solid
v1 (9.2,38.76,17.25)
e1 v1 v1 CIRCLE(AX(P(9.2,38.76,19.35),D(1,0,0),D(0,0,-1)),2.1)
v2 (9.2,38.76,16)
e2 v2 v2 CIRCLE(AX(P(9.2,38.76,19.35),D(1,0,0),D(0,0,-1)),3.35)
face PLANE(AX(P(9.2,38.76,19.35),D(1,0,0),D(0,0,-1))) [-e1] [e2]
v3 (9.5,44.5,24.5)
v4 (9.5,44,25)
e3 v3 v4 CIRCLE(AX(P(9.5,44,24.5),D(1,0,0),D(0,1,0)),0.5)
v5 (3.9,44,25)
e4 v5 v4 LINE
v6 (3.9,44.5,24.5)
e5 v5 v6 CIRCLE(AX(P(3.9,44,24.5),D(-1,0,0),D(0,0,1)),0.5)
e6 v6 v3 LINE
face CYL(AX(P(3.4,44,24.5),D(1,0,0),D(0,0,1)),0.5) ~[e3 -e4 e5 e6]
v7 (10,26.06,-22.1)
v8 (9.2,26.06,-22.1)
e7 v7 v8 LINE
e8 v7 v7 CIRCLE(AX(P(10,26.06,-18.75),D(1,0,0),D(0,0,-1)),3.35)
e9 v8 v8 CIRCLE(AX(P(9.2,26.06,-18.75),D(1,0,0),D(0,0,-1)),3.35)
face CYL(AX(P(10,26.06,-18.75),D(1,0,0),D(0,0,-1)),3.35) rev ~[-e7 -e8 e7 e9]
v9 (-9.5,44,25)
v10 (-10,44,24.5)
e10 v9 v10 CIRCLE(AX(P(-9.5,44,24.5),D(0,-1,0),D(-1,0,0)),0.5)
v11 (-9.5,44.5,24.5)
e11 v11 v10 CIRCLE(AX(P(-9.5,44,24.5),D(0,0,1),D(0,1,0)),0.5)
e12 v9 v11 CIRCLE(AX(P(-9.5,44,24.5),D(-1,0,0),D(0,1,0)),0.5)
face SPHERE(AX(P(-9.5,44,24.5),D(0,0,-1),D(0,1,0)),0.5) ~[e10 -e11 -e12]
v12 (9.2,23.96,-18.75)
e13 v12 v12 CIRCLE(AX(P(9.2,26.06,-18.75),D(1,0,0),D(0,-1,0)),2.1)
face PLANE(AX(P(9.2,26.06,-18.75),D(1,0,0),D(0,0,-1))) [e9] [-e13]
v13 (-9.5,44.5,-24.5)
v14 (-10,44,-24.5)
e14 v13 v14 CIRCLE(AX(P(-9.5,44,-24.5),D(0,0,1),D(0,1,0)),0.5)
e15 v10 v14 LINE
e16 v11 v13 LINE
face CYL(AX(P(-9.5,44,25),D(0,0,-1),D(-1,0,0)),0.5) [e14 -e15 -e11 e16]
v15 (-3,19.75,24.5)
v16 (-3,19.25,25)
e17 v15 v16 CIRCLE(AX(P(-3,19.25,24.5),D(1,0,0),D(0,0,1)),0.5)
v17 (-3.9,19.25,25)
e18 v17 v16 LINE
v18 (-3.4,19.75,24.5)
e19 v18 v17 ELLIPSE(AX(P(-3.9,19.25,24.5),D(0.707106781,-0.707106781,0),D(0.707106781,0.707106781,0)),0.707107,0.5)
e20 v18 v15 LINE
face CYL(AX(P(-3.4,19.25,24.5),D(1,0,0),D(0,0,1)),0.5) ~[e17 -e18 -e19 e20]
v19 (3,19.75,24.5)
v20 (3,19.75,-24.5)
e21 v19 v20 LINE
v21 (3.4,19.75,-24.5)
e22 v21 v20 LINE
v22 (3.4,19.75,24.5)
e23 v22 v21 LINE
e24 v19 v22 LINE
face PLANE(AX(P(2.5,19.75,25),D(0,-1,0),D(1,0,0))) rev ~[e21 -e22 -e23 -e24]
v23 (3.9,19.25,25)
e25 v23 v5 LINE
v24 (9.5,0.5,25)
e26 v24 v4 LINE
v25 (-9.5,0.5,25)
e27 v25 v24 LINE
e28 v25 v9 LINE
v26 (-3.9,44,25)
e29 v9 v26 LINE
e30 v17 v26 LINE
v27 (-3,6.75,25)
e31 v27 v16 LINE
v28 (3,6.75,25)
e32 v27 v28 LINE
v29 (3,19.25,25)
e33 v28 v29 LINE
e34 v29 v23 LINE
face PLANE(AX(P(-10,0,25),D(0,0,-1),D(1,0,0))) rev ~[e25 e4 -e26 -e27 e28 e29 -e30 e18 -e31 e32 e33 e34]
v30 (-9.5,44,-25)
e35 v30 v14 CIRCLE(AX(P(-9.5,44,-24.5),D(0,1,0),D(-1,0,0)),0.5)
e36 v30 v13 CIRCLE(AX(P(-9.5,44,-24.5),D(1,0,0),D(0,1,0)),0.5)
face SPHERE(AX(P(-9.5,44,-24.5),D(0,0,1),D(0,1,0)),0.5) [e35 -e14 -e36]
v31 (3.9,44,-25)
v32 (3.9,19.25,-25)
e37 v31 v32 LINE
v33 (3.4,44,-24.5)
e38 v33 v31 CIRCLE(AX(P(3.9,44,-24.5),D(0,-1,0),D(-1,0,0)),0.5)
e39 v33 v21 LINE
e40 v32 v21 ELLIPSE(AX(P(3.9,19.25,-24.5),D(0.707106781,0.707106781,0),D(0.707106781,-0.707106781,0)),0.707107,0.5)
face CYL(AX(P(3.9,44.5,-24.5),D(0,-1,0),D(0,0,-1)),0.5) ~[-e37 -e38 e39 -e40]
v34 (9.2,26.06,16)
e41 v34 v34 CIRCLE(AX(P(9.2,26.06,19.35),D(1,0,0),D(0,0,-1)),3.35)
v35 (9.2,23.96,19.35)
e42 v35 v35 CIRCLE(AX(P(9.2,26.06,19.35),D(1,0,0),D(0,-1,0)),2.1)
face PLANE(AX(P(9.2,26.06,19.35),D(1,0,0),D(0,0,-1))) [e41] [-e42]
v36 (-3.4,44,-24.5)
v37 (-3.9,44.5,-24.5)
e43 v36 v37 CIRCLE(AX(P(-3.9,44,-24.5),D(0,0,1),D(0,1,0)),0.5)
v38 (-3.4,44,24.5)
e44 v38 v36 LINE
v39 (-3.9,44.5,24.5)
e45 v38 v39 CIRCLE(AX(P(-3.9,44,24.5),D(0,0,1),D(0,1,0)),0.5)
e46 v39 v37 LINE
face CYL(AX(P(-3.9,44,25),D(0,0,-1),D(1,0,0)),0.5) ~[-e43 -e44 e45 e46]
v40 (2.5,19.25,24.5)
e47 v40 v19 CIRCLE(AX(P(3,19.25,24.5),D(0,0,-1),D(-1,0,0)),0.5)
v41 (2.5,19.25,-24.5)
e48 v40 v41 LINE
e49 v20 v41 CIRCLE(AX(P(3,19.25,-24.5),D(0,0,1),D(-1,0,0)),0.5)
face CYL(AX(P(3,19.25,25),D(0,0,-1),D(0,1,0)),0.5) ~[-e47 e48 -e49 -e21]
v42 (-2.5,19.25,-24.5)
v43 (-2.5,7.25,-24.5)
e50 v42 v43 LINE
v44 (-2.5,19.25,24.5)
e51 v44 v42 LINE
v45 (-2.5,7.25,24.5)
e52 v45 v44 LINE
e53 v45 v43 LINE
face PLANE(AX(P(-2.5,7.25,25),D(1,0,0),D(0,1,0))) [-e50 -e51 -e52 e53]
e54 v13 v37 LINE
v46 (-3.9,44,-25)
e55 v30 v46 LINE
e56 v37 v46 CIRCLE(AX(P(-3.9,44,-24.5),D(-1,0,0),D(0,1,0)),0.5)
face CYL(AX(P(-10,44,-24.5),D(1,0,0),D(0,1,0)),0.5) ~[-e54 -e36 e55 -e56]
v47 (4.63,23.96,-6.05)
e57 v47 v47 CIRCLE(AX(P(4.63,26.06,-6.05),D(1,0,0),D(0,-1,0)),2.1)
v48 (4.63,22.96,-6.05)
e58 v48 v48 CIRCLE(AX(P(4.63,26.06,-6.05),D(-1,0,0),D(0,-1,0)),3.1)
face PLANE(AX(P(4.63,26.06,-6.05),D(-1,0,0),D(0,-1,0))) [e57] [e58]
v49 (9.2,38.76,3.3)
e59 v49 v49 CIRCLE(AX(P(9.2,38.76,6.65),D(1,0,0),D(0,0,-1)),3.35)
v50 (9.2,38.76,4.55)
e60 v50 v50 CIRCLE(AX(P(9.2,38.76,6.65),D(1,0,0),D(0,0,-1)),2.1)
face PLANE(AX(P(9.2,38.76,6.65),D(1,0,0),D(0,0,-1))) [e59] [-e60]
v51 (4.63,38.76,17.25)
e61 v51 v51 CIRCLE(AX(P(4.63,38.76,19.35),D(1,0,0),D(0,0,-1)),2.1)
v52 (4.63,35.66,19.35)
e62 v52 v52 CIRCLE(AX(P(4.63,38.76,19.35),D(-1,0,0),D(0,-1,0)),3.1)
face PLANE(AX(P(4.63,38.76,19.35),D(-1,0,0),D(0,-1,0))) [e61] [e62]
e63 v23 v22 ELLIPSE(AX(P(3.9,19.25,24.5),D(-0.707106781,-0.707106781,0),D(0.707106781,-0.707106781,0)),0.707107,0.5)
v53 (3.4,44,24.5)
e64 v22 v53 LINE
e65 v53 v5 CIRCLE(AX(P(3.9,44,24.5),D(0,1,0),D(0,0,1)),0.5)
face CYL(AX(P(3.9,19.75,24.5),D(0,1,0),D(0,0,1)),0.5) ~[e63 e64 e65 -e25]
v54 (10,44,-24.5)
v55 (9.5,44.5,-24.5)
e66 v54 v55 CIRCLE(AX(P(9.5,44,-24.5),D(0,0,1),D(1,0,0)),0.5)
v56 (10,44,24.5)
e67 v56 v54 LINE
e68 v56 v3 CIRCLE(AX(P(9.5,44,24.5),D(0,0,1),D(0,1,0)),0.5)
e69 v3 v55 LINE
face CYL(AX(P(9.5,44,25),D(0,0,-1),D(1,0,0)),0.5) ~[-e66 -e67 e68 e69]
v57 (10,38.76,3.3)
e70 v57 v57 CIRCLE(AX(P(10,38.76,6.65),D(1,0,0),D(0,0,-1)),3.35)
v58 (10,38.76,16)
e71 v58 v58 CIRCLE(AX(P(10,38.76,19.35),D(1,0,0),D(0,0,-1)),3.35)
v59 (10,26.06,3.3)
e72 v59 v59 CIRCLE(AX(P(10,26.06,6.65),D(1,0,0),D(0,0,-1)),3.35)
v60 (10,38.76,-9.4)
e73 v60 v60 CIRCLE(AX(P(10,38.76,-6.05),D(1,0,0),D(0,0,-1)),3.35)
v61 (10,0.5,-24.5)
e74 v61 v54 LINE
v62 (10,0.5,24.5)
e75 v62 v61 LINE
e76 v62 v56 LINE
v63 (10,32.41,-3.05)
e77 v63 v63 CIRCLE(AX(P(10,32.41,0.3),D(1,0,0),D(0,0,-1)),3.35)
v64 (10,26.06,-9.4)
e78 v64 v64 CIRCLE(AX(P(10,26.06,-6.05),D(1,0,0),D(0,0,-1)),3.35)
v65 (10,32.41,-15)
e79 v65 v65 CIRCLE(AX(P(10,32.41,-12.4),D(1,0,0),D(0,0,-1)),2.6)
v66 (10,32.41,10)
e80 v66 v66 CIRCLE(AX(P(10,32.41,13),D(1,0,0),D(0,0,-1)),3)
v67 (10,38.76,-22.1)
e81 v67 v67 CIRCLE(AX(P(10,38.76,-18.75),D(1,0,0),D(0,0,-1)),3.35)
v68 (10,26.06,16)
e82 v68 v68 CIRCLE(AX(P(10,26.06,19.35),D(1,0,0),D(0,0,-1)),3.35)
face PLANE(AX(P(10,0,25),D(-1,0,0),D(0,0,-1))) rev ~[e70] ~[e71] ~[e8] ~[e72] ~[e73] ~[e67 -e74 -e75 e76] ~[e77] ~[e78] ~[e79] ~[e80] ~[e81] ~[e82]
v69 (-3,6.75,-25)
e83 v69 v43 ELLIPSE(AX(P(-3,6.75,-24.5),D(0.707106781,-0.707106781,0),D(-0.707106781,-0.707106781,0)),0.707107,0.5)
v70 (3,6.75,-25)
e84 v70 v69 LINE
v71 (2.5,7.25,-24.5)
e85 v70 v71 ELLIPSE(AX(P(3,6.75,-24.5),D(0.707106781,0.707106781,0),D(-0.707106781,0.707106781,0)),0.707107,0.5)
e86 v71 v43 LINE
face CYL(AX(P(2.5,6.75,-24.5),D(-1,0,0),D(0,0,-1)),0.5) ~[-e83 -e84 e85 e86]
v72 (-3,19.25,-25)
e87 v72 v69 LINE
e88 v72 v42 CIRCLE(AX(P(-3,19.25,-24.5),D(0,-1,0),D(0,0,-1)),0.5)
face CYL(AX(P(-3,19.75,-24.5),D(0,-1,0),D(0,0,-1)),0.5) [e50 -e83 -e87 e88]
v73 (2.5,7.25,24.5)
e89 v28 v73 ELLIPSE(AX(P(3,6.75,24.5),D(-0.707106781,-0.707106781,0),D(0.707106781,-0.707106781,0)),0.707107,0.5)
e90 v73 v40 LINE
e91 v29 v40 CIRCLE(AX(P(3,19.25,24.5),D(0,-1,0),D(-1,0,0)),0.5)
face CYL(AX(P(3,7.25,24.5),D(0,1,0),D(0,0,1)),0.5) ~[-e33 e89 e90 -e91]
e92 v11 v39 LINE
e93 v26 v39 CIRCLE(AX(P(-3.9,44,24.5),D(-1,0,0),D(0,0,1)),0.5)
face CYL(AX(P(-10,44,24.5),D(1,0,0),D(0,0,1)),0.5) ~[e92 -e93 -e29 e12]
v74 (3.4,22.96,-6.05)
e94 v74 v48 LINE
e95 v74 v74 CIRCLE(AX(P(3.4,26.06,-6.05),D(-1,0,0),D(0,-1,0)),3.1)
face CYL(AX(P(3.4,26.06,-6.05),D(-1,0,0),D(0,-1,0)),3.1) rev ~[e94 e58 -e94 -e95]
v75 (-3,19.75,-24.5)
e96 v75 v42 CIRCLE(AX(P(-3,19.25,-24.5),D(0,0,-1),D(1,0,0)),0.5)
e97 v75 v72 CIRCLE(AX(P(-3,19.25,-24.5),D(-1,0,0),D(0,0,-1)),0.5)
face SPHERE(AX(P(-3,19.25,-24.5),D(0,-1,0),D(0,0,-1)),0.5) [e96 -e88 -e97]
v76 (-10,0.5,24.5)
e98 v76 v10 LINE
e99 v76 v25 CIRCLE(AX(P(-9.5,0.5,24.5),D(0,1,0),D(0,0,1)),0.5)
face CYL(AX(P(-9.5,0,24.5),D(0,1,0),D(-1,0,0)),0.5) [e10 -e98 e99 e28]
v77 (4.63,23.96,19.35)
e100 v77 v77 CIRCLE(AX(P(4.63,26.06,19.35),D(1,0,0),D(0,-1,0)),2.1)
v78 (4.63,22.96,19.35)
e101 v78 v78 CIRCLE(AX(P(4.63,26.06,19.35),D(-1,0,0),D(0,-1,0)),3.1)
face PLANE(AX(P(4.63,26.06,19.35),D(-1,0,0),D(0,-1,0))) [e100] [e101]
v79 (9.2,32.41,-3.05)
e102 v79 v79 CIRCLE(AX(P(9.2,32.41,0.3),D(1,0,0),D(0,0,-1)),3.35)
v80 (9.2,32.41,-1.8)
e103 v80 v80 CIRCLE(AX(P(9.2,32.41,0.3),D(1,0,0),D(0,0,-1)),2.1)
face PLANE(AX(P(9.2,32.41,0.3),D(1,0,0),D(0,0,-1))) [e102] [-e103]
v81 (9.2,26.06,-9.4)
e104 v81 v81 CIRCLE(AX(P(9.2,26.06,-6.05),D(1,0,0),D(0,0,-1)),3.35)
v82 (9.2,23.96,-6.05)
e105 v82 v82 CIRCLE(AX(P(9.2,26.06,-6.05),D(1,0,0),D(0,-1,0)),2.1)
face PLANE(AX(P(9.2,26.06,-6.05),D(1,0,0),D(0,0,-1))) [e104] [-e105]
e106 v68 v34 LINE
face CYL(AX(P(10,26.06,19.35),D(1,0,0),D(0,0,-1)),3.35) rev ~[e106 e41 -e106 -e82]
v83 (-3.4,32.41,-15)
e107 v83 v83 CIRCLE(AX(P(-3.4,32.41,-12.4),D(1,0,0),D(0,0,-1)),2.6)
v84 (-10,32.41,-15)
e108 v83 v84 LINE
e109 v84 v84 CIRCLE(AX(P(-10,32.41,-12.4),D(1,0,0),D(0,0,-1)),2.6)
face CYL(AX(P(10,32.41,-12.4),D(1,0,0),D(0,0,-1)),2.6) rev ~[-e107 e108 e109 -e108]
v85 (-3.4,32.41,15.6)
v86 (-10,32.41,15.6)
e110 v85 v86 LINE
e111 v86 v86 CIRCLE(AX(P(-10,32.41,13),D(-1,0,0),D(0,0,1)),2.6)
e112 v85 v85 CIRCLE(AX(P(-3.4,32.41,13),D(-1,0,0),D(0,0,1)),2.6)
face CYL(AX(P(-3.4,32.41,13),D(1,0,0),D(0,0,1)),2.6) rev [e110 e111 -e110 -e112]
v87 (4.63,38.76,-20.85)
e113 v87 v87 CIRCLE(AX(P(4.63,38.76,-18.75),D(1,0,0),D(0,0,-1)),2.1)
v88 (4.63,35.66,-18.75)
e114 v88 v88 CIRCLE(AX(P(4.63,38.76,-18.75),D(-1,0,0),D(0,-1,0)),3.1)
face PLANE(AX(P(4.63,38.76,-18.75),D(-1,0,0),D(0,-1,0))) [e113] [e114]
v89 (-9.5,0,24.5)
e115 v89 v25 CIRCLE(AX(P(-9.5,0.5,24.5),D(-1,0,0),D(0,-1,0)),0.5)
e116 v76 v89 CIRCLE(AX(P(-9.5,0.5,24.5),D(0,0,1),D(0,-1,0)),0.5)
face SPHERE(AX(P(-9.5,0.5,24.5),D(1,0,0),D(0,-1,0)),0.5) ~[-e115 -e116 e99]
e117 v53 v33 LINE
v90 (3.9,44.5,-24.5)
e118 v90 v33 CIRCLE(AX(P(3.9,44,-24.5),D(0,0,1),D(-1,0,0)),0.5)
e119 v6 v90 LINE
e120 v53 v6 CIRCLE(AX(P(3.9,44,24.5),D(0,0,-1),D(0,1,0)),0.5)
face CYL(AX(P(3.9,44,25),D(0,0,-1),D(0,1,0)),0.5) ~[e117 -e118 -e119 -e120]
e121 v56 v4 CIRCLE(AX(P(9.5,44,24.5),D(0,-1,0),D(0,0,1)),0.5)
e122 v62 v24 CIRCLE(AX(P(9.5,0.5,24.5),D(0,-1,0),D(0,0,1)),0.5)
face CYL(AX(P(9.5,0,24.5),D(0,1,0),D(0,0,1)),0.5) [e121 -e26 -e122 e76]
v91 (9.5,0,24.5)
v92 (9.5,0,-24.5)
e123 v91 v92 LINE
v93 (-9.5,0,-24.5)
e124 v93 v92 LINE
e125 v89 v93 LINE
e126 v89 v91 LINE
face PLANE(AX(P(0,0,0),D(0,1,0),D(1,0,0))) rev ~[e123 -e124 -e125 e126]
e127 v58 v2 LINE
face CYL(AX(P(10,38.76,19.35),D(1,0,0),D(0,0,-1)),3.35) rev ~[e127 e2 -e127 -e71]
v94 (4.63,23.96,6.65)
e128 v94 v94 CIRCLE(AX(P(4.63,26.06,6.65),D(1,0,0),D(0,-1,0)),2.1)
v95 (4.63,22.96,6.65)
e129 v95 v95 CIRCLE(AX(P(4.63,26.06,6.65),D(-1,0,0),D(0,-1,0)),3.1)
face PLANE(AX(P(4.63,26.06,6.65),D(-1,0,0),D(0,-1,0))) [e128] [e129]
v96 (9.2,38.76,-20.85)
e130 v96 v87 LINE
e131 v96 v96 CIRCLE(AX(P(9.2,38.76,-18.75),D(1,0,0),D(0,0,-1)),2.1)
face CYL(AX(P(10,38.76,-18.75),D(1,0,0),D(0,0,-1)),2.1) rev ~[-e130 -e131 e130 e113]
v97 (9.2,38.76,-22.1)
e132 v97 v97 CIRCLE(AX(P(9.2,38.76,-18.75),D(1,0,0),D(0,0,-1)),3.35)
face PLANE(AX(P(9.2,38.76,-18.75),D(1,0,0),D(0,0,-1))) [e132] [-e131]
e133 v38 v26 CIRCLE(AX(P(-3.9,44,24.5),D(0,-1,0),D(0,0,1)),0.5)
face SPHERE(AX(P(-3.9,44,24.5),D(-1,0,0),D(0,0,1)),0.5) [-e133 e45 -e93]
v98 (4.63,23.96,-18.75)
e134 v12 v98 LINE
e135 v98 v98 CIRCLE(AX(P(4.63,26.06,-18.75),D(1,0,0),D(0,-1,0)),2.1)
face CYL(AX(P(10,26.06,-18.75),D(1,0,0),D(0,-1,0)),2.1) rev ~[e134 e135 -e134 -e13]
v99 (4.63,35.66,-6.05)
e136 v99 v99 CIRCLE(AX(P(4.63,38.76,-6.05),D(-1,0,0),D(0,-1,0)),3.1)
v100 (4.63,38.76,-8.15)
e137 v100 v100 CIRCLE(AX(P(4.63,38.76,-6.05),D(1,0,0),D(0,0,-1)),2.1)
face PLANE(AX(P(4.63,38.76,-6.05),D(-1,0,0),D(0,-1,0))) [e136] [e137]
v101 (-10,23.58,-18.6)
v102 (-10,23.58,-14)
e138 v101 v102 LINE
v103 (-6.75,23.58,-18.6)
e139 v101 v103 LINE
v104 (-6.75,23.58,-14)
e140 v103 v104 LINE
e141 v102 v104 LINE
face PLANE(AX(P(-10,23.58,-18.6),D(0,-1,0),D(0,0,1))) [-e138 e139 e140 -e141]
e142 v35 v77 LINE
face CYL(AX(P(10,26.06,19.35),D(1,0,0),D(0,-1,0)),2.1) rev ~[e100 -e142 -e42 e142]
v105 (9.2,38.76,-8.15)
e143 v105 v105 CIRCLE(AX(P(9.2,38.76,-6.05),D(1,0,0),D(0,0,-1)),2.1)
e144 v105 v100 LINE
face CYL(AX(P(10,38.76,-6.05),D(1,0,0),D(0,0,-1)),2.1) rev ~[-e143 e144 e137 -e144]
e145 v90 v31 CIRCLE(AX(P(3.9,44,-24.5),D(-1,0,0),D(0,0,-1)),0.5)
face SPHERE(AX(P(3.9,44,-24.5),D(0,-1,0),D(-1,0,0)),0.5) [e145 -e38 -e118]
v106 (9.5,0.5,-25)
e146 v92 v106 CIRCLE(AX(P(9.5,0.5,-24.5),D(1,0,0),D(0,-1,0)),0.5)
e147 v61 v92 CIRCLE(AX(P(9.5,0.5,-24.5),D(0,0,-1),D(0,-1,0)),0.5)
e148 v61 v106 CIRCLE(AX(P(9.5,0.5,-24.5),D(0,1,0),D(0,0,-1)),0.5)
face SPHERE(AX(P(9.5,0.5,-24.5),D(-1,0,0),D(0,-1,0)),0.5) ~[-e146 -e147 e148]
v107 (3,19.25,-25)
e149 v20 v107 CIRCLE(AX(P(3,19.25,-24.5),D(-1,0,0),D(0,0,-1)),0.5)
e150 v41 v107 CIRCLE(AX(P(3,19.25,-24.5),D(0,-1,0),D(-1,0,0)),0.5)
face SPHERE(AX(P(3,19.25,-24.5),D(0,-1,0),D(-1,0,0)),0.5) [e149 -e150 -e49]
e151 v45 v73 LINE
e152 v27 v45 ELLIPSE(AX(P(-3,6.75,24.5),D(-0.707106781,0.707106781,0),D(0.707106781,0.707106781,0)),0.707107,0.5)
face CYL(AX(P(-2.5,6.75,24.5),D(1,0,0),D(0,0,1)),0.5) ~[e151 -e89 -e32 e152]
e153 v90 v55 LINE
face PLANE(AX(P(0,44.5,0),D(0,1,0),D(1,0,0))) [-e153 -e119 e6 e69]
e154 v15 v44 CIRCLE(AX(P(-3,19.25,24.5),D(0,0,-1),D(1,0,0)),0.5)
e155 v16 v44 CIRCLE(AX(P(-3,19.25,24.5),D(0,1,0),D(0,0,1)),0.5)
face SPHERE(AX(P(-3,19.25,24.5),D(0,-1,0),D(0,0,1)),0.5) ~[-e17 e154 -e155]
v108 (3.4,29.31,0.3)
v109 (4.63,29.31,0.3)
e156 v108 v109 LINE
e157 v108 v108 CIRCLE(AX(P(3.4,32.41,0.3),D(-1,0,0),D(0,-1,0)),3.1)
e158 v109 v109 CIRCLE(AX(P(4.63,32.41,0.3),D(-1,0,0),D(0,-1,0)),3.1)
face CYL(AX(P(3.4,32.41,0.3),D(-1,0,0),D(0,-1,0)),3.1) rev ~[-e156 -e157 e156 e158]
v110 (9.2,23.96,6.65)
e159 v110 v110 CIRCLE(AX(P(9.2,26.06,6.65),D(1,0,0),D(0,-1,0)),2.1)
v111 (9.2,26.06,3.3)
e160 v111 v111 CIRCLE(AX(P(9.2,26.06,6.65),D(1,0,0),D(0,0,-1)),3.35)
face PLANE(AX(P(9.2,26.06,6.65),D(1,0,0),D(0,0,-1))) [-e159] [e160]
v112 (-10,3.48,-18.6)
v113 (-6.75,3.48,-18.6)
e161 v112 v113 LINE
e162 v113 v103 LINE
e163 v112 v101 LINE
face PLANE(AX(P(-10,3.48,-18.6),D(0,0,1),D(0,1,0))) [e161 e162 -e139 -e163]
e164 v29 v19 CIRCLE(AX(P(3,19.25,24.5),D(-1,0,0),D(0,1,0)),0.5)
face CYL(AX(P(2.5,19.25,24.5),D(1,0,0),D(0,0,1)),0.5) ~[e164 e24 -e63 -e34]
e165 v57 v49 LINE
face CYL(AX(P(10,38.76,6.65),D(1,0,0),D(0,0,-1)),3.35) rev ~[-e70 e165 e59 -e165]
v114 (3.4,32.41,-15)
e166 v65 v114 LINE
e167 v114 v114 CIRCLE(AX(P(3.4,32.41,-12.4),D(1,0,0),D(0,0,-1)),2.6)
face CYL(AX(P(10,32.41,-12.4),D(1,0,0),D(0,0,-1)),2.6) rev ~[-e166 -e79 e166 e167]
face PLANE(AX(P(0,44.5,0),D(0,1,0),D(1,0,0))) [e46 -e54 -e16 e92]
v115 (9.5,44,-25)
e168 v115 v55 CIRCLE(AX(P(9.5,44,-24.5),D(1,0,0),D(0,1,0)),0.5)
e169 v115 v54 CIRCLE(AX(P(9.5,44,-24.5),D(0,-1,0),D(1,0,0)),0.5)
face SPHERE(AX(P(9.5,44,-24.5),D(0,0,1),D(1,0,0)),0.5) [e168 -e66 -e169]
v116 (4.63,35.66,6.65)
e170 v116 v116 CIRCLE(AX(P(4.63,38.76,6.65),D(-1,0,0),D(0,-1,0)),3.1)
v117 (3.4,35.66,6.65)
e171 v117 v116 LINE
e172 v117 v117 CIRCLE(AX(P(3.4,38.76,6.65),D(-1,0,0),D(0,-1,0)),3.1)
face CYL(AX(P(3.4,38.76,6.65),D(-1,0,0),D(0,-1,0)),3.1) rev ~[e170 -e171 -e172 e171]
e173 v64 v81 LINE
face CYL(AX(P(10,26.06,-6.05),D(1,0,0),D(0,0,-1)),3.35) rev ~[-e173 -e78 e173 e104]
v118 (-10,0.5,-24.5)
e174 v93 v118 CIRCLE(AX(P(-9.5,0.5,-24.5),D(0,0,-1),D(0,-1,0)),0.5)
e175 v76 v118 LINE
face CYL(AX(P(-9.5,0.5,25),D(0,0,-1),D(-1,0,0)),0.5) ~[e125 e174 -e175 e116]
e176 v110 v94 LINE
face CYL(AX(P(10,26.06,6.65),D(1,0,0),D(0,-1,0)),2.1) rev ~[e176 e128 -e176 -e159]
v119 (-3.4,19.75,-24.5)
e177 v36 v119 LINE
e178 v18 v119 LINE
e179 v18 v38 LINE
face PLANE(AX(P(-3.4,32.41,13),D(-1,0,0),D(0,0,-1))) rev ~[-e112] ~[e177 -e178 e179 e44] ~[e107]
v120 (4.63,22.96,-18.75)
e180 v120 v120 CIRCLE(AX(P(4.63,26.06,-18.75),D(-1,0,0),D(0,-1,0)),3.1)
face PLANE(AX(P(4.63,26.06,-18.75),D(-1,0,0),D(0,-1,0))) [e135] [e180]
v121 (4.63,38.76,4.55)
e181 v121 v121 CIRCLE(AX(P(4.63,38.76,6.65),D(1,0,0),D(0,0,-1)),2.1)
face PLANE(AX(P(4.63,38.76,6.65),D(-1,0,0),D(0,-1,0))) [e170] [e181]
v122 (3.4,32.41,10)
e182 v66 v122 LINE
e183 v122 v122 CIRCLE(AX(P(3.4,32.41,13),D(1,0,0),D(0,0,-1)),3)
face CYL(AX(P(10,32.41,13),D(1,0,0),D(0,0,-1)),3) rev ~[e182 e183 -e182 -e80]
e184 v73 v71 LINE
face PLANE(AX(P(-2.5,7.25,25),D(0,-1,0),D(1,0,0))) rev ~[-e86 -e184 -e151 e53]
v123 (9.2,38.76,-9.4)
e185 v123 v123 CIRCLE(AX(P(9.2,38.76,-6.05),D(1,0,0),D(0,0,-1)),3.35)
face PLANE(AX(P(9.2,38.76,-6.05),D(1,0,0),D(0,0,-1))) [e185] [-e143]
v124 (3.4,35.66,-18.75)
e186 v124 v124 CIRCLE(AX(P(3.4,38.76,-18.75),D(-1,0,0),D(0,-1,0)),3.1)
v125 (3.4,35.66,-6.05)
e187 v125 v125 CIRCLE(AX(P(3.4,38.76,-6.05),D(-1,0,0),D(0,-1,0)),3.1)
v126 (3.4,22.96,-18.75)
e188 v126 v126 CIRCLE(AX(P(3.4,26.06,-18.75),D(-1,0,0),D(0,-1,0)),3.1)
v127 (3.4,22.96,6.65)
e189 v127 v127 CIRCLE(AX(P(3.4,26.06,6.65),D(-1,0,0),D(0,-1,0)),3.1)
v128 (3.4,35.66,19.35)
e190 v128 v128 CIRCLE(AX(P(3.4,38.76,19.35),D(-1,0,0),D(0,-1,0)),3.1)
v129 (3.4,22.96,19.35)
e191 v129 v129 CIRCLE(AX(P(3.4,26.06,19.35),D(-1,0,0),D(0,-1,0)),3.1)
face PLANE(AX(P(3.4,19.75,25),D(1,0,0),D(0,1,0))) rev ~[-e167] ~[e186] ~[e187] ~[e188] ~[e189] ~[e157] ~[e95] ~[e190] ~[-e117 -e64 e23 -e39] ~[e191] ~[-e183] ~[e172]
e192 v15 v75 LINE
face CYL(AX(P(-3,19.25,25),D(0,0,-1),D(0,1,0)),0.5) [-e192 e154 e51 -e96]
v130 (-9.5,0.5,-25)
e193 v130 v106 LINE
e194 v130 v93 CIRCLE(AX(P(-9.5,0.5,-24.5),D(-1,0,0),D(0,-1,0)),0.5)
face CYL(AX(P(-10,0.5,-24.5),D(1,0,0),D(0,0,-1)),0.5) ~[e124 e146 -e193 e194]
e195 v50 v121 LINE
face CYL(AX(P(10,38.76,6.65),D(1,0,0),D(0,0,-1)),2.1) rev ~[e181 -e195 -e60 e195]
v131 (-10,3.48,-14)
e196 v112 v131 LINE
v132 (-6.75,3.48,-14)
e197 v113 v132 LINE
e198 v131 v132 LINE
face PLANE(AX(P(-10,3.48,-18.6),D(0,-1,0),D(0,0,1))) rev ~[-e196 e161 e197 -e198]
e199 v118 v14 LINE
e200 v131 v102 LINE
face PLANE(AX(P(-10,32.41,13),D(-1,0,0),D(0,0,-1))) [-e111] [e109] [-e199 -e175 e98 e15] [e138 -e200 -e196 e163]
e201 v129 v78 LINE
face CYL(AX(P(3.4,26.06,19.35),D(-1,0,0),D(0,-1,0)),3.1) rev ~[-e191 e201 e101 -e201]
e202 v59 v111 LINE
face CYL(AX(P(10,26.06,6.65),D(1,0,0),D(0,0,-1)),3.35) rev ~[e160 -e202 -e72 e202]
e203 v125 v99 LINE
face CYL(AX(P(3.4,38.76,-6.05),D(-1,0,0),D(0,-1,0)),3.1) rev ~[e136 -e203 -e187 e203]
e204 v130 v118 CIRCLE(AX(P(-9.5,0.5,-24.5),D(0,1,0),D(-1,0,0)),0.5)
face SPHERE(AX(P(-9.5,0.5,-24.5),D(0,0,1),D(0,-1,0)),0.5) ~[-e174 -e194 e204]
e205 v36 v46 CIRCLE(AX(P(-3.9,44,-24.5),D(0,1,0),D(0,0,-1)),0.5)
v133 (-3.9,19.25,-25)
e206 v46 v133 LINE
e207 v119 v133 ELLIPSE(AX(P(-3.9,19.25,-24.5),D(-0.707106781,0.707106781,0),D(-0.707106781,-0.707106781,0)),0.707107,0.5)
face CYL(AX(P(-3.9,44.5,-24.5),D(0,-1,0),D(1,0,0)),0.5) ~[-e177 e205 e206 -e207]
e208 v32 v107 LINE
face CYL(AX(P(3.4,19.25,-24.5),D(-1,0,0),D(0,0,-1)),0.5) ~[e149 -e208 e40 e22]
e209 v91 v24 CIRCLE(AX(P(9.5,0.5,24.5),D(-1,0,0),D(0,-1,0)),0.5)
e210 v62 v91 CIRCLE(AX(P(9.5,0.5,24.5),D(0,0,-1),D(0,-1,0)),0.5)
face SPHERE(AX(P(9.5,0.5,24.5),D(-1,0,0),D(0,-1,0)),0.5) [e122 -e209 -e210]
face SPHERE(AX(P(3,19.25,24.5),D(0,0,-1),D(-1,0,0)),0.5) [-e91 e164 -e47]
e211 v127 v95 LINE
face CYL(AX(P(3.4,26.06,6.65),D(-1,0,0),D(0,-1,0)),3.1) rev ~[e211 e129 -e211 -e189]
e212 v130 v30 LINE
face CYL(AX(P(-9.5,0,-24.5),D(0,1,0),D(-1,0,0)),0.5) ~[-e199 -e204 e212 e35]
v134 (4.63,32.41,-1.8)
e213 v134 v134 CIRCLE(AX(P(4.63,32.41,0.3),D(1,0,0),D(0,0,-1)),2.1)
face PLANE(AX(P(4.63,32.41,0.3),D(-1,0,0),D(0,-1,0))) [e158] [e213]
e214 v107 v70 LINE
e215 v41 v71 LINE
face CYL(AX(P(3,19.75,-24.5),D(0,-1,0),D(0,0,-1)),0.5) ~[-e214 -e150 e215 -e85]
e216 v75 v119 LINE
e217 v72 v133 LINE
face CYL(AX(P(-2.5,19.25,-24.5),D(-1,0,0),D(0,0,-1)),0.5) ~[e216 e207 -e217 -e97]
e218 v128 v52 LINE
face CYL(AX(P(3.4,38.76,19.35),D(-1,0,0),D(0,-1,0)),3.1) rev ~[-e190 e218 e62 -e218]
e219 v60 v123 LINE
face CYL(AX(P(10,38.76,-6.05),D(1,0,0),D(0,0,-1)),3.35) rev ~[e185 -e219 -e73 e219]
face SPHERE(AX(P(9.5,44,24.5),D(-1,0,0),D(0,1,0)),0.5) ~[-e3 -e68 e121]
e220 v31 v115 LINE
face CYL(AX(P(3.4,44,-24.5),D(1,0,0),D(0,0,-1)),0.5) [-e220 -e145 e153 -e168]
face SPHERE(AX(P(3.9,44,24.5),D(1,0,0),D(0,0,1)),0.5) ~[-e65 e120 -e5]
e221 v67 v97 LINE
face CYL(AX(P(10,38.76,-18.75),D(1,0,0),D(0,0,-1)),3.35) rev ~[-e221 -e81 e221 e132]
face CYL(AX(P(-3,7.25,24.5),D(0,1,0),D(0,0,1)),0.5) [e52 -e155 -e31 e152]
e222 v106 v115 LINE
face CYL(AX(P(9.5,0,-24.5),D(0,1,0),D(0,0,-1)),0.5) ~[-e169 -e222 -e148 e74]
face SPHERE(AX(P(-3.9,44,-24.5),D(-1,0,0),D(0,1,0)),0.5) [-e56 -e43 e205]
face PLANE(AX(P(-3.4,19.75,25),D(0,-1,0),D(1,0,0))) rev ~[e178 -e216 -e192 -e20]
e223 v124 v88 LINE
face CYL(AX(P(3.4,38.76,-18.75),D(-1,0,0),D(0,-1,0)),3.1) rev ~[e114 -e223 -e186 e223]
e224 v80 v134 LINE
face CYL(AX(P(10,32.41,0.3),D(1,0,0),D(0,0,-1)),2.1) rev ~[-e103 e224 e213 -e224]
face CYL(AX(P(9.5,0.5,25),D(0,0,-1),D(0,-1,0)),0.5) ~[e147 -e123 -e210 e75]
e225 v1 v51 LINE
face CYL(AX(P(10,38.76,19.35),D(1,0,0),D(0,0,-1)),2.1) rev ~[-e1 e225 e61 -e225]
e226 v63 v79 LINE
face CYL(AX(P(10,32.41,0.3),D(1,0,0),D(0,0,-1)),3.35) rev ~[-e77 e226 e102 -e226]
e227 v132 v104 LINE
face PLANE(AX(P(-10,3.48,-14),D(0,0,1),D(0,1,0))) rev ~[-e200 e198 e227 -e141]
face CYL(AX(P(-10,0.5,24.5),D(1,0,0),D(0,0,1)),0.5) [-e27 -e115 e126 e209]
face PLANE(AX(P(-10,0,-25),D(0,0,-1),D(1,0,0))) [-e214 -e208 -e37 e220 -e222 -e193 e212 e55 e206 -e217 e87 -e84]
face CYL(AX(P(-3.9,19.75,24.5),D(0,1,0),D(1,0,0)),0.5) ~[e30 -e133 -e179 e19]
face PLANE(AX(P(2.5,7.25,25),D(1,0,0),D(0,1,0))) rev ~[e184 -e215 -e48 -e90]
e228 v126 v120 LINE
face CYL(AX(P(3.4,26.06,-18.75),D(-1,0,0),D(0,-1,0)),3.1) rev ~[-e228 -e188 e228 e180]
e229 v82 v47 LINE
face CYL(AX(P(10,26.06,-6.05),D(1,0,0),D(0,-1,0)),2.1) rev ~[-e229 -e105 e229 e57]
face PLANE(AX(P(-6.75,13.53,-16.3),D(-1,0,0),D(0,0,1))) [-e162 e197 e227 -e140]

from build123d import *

# Parameters (mm, degrees)
SKETCH2_W           = 20
SKETCH2_H           = 50
BOSS_EXTRUDE1_DEPTH = 44.5
SKETCH3_W           = 6.8
SKETCH3_H           = 24.75
SKETCH3_W_2         = 5
SKETCH3_H_2         = 12.5
CUT_EXTRUDE3_DEPTH  = 68.677544282
SKETCH4_R           = 3
SKETCH4_R_2         = 2.6
CUT_EXTRUDE4_DEPTH  = 55.820160525
CUT_EXTRUDE5_REACH  = 56.82
SKETCH4_3_R         = 2.1
BOSS_EXTRUDE2_START = -6.6
SKETCH5_R           = 3
SKETCH5_R_2         = 2.6
BOSS_EXTRUDE2_DEPTH = 6.6
SKETCH6_R           = 3.1
CUT_EXTRUDE6_DEPTH  = 1.23
SKETCH7_W           = 4.6
SKETCH7_H           = 20.1
CUT_EXTRUDE7_DEPTH  = 3.25
FILLET1_R           = 0.5
SKETCH8_R           = 3.35
CUT_EXTRUDE8_DEPTH  = 0.8


with BuildPart() as part:
    # Sketch2 → Boss-Extrude1 (new body)
    with BuildSketch(Plane(origin=(0, 0, 0), x_dir=(1, 0, 0), z_dir=(0, 1, 0))):
        Rectangle(SKETCH2_W, SKETCH2_H)
    extrude(amount=BOSS_EXTRUDE1_DEPTH)

    # Sketch3 → Cut-Extrude3 (cut, through all)
    with BuildSketch(Plane.XY.offset(25)):
        with Locations((0, 32.125)):
            Rectangle(SKETCH3_W, SKETCH3_H)
        with Locations((0, 13.5)):
            Rectangle(SKETCH3_W_2, SKETCH3_H_2)
    extrude(amount=-CUT_EXTRUDE3_DEPTH, mode=Mode.SUBTRACT)

    # Sketch4 → Cut-Extrude4 (cut, through all)
    with BuildSketch(Plane(origin=(10, 0, 0), x_dir=(0, 0, -1), z_dir=(1, 0, 0))):
        with Locations((-13, 32.41)):
            Circle(SKETCH4_R)
        with Locations((12.4, 32.41)):
            Circle(SKETCH4_R_2)
    extrude(amount=-CUT_EXTRUDE4_DEPTH, mode=Mode.SUBTRACT)

    # Sketch4<3> → Cut-Extrude5 (cut, up to next)
    with BuildSketch(Plane(origin=(10, 0, 0), x_dir=(0, 0, -1), z_dir=(1, 0, 0)), mode=Mode.PRIVATE) as cut_extrude5_sk1:
        with Locations((-0.3, 32.41)):
            Circle(SKETCH4_3_R)
    cut_extrude5_tool1 = extrude(cut_extrude5_sk1.sketch, amount=-CUT_EXTRUDE5_REACH, mode=Mode.PRIVATE) & part.part
    # Sketch4<3> → Cut-Extrude5 (cut, up to next)
    with BuildSketch(Plane(origin=(10, 0, 0), x_dir=(0, 0, -1), z_dir=(1, 0, 0)), mode=Mode.PRIVATE) as cut_extrude5_sk2:
        with Locations((-19.35, 38.76)):
            Circle(SKETCH4_3_R)
    cut_extrude5_tool2 = extrude(cut_extrude5_sk2.sketch, amount=-CUT_EXTRUDE5_REACH, mode=Mode.PRIVATE) & part.part
    # Sketch4<3> → Cut-Extrude5 (cut, up to next)
    with BuildSketch(Plane(origin=(10, 0, 0), x_dir=(0, 0, -1), z_dir=(1, 0, 0)), mode=Mode.PRIVATE) as cut_extrude5_sk3:
        with Locations((-6.65, 38.76)):
            Circle(SKETCH4_3_R)
    cut_extrude5_tool3 = extrude(cut_extrude5_sk3.sketch, amount=-CUT_EXTRUDE5_REACH, mode=Mode.PRIVATE) & part.part
    # Sketch4<3> → Cut-Extrude5 (cut, up to next)
    with BuildSketch(Plane(origin=(10, 0, 0), x_dir=(0, 0, -1), z_dir=(1, 0, 0)), mode=Mode.PRIVATE) as cut_extrude5_sk4:
        with Locations((6.05, 38.76)):
            Circle(SKETCH4_3_R)
    cut_extrude5_tool4 = extrude(cut_extrude5_sk4.sketch, amount=-CUT_EXTRUDE5_REACH, mode=Mode.PRIVATE) & part.part
    # Sketch4<3> → Cut-Extrude5 (cut, up to next)
    with BuildSketch(Plane(origin=(10, 0, 0), x_dir=(0, 0, -1), z_dir=(1, 0, 0)), mode=Mode.PRIVATE) as cut_extrude5_sk5:
        with Locations((18.75, 38.76)):
            Circle(SKETCH4_3_R)
    cut_extrude5_tool5 = extrude(cut_extrude5_sk5.sketch, amount=-CUT_EXTRUDE5_REACH, mode=Mode.PRIVATE) & part.part
    # Sketch4<3> → Cut-Extrude5 (cut, up to next)
    with BuildSketch(Plane(origin=(10, 0, 0), x_dir=(0, 0, -1), z_dir=(1, 0, 0)), mode=Mode.PRIVATE) as cut_extrude5_sk6:
        with Locations((18.75, 26.06)):
            Circle(SKETCH4_3_R)
    cut_extrude5_tool6 = extrude(cut_extrude5_sk6.sketch, amount=-CUT_EXTRUDE5_REACH, mode=Mode.PRIVATE) & part.part
    # Sketch4<3> → Cut-Extrude5 (cut, up to next)
    with BuildSketch(Plane(origin=(10, 0, 0), x_dir=(0, 0, -1), z_dir=(1, 0, 0)), mode=Mode.PRIVATE) as cut_extrude5_sk7:
        with Locations((6.05, 26.06)):
            Circle(SKETCH4_3_R)
    cut_extrude5_tool7 = extrude(cut_extrude5_sk7.sketch, amount=-CUT_EXTRUDE5_REACH, mode=Mode.PRIVATE) & part.part
    # Sketch4<3> → Cut-Extrude5 (cut, up to next)
    with BuildSketch(Plane(origin=(10, 0, 0), x_dir=(0, 0, -1), z_dir=(1, 0, 0)), mode=Mode.PRIVATE) as cut_extrude5_sk8:
        with Locations((-6.65, 26.06)):
            Circle(SKETCH4_3_R)
    cut_extrude5_tool8 = extrude(cut_extrude5_sk8.sketch, amount=-CUT_EXTRUDE5_REACH, mode=Mode.PRIVATE) & part.part
    # Sketch4<3> → Cut-Extrude5 (cut, up to next)
    with BuildSketch(Plane(origin=(10, 0, 0), x_dir=(0, 0, -1), z_dir=(1, 0, 0)), mode=Mode.PRIVATE) as cut_extrude5_sk9:
        with Locations((-19.35, 26.06)):
            Circle(SKETCH4_3_R)
    cut_extrude5_tool9 = extrude(cut_extrude5_sk9.sketch, amount=-CUT_EXTRUDE5_REACH, mode=Mode.PRIVATE) & part.part
    add(cut_extrude5_tool1.solids().sort_by_distance((10, 32.41, 0.3))[0], mode=Mode.SUBTRACT)
    add(cut_extrude5_tool2.solids().sort_by_distance((10, 38.76, 19.35))[0], mode=Mode.SUBTRACT)
    add(cut_extrude5_tool3.solids().sort_by_distance((10, 38.76, 6.65))[0], mode=Mode.SUBTRACT)
    add(cut_extrude5_tool4.solids().sort_by_distance((10, 38.76, -6.05))[0], mode=Mode.SUBTRACT)
    add(cut_extrude5_tool5.solids().sort_by_distance((10, 38.76, -18.75))[0], mode=Mode.SUBTRACT)
    add(cut_extrude5_tool6.solids().sort_by_distance((10, 26.06, -18.75))[0], mode=Mode.SUBTRACT)
    add(cut_extrude5_tool7.solids().sort_by_distance((10, 26.06, -6.05))[0], mode=Mode.SUBTRACT)
    add(cut_extrude5_tool8.solids().sort_by_distance((10, 26.06, 6.65))[0], mode=Mode.SUBTRACT)
    add(cut_extrude5_tool9.solids().sort_by_distance((10, 26.06, 19.35))[0], mode=Mode.SUBTRACT)

    # Sketch5 → Boss-Extrude2 (add)
    with BuildSketch(Plane.ZY.offset(10).offset(BOSS_EXTRUDE2_START)):
        with Locations((13, 32.41)):
            Circle(SKETCH5_R)
        with Locations((13, 32.41)):
            Circle(SKETCH5_R_2, mode=Mode.SUBTRACT)
    extrude(amount=BOSS_EXTRUDE2_DEPTH)

    # Sketch6 → Cut-Extrude6 (cut)
    with BuildSketch(Plane.ZY.offset(-3.4)):
        with Locations((-18.75, 26.06)):
            Circle(SKETCH6_R)
        with Locations((-18.75, 38.76)):
            Circle(SKETCH6_R)
        with Locations((-6.05, 38.76)):
            Circle(SKETCH6_R)
        with Locations((6.65, 38.76)):
            Circle(SKETCH6_R)
        with Locations((0.3, 32.41)):
            Circle(SKETCH6_R)
        with Locations((-6.05, 26.06)):
            Circle(SKETCH6_R)
        with Locations((6.65, 26.06)):
            Circle(SKETCH6_R)
        with Locations((19.35, 26.06)):
            Circle(SKETCH6_R)
        with Locations((19.35, 38.76)):
            Circle(SKETCH6_R)
    extrude(amount=-CUT_EXTRUDE6_DEPTH, mode=Mode.SUBTRACT)

    # Sketch7 → Cut-Extrude7 (cut)
    with BuildSketch(Plane.ZY.offset(10)):
        with Locations((-16.3, 13.53)):
            Rectangle(SKETCH7_W, SKETCH7_H)
    extrude(amount=-CUT_EXTRUDE7_DEPTH, mode=Mode.SUBTRACT)

    # Fillet1
    fillet1_edges = [part.edges().sort_by_distance(p)[0] for p in [
        (-10, 0, 0),
        (10, 0, 0),
        (-10, 22.25, -25),
        (0, 0, -25),
        (10, 22.25, -25),
        (3.4, 32.125, -25),
        (2.95, 19.75, -25),
        (2.5, 13.5, -25),
        (0, 7.25, -25),
        (-2.5, 13.5, -25),
        (-2.95, 19.75, -25),
        (-3.4, 32.125, -25),
        (-2.5, 13.5, 25),
        (0, 7.25, 25),
        (2.5, 13.5, 25),
        (2.95, 19.75, 25),
        (3.4, 32.125, 25),
        (10, 22.25, 25),
        (0, 0, 25),
        (-10, 22.25, 25),
        (-3.4, 32.125, 25),
        (-2.95, 19.75, 25),
        (10, 44.5, 0),
        (6.7, 44.5, 25),
        (3.4, 44.5, 0),
        (6.7, 44.5, -25),
        (-6.7, 44.5, 25),
        (-10, 44.5, 0),
        (-6.7, 44.5, -25),
        (-3.4, 44.5, 0),
        (2.5, 19.75, 0),
        (-2.5, 19.75, 0),
    ]]
    fillet(fillet1_edges, radius=FILLET1_R)

    # Sketch8 → Cut-Extrude8 (cut)
    with BuildSketch(Plane(origin=(10, 0, 0), x_dir=(0, 0, -1), z_dir=(1, 0, 0))):
        with Locations((-19.35, 38.76)):
            Circle(SKETCH8_R)
        with Locations((-6.65, 38.76)):
            Circle(SKETCH8_R)
        with Locations((6.05, 38.76)):
            Circle(SKETCH8_R)
        with Locations((18.75, 38.76)):
            Circle(SKETCH8_R)
        with Locations((-0.3, 32.41)):
            Circle(SKETCH8_R)
        with Locations((-19.35, 26.06)):
            Circle(SKETCH8_R)
        with Locations((-6.65, 26.06)):
            Circle(SKETCH8_R)
        with Locations((6.05, 26.06)):
            Circle(SKETCH8_R)
        with Locations((18.75, 26.06)):
            Circle(SKETCH8_R)
    extrude(amount=-CUT_EXTRUDE8_DEPTH, mode=Mode.SUBTRACT)


solid = part.part
